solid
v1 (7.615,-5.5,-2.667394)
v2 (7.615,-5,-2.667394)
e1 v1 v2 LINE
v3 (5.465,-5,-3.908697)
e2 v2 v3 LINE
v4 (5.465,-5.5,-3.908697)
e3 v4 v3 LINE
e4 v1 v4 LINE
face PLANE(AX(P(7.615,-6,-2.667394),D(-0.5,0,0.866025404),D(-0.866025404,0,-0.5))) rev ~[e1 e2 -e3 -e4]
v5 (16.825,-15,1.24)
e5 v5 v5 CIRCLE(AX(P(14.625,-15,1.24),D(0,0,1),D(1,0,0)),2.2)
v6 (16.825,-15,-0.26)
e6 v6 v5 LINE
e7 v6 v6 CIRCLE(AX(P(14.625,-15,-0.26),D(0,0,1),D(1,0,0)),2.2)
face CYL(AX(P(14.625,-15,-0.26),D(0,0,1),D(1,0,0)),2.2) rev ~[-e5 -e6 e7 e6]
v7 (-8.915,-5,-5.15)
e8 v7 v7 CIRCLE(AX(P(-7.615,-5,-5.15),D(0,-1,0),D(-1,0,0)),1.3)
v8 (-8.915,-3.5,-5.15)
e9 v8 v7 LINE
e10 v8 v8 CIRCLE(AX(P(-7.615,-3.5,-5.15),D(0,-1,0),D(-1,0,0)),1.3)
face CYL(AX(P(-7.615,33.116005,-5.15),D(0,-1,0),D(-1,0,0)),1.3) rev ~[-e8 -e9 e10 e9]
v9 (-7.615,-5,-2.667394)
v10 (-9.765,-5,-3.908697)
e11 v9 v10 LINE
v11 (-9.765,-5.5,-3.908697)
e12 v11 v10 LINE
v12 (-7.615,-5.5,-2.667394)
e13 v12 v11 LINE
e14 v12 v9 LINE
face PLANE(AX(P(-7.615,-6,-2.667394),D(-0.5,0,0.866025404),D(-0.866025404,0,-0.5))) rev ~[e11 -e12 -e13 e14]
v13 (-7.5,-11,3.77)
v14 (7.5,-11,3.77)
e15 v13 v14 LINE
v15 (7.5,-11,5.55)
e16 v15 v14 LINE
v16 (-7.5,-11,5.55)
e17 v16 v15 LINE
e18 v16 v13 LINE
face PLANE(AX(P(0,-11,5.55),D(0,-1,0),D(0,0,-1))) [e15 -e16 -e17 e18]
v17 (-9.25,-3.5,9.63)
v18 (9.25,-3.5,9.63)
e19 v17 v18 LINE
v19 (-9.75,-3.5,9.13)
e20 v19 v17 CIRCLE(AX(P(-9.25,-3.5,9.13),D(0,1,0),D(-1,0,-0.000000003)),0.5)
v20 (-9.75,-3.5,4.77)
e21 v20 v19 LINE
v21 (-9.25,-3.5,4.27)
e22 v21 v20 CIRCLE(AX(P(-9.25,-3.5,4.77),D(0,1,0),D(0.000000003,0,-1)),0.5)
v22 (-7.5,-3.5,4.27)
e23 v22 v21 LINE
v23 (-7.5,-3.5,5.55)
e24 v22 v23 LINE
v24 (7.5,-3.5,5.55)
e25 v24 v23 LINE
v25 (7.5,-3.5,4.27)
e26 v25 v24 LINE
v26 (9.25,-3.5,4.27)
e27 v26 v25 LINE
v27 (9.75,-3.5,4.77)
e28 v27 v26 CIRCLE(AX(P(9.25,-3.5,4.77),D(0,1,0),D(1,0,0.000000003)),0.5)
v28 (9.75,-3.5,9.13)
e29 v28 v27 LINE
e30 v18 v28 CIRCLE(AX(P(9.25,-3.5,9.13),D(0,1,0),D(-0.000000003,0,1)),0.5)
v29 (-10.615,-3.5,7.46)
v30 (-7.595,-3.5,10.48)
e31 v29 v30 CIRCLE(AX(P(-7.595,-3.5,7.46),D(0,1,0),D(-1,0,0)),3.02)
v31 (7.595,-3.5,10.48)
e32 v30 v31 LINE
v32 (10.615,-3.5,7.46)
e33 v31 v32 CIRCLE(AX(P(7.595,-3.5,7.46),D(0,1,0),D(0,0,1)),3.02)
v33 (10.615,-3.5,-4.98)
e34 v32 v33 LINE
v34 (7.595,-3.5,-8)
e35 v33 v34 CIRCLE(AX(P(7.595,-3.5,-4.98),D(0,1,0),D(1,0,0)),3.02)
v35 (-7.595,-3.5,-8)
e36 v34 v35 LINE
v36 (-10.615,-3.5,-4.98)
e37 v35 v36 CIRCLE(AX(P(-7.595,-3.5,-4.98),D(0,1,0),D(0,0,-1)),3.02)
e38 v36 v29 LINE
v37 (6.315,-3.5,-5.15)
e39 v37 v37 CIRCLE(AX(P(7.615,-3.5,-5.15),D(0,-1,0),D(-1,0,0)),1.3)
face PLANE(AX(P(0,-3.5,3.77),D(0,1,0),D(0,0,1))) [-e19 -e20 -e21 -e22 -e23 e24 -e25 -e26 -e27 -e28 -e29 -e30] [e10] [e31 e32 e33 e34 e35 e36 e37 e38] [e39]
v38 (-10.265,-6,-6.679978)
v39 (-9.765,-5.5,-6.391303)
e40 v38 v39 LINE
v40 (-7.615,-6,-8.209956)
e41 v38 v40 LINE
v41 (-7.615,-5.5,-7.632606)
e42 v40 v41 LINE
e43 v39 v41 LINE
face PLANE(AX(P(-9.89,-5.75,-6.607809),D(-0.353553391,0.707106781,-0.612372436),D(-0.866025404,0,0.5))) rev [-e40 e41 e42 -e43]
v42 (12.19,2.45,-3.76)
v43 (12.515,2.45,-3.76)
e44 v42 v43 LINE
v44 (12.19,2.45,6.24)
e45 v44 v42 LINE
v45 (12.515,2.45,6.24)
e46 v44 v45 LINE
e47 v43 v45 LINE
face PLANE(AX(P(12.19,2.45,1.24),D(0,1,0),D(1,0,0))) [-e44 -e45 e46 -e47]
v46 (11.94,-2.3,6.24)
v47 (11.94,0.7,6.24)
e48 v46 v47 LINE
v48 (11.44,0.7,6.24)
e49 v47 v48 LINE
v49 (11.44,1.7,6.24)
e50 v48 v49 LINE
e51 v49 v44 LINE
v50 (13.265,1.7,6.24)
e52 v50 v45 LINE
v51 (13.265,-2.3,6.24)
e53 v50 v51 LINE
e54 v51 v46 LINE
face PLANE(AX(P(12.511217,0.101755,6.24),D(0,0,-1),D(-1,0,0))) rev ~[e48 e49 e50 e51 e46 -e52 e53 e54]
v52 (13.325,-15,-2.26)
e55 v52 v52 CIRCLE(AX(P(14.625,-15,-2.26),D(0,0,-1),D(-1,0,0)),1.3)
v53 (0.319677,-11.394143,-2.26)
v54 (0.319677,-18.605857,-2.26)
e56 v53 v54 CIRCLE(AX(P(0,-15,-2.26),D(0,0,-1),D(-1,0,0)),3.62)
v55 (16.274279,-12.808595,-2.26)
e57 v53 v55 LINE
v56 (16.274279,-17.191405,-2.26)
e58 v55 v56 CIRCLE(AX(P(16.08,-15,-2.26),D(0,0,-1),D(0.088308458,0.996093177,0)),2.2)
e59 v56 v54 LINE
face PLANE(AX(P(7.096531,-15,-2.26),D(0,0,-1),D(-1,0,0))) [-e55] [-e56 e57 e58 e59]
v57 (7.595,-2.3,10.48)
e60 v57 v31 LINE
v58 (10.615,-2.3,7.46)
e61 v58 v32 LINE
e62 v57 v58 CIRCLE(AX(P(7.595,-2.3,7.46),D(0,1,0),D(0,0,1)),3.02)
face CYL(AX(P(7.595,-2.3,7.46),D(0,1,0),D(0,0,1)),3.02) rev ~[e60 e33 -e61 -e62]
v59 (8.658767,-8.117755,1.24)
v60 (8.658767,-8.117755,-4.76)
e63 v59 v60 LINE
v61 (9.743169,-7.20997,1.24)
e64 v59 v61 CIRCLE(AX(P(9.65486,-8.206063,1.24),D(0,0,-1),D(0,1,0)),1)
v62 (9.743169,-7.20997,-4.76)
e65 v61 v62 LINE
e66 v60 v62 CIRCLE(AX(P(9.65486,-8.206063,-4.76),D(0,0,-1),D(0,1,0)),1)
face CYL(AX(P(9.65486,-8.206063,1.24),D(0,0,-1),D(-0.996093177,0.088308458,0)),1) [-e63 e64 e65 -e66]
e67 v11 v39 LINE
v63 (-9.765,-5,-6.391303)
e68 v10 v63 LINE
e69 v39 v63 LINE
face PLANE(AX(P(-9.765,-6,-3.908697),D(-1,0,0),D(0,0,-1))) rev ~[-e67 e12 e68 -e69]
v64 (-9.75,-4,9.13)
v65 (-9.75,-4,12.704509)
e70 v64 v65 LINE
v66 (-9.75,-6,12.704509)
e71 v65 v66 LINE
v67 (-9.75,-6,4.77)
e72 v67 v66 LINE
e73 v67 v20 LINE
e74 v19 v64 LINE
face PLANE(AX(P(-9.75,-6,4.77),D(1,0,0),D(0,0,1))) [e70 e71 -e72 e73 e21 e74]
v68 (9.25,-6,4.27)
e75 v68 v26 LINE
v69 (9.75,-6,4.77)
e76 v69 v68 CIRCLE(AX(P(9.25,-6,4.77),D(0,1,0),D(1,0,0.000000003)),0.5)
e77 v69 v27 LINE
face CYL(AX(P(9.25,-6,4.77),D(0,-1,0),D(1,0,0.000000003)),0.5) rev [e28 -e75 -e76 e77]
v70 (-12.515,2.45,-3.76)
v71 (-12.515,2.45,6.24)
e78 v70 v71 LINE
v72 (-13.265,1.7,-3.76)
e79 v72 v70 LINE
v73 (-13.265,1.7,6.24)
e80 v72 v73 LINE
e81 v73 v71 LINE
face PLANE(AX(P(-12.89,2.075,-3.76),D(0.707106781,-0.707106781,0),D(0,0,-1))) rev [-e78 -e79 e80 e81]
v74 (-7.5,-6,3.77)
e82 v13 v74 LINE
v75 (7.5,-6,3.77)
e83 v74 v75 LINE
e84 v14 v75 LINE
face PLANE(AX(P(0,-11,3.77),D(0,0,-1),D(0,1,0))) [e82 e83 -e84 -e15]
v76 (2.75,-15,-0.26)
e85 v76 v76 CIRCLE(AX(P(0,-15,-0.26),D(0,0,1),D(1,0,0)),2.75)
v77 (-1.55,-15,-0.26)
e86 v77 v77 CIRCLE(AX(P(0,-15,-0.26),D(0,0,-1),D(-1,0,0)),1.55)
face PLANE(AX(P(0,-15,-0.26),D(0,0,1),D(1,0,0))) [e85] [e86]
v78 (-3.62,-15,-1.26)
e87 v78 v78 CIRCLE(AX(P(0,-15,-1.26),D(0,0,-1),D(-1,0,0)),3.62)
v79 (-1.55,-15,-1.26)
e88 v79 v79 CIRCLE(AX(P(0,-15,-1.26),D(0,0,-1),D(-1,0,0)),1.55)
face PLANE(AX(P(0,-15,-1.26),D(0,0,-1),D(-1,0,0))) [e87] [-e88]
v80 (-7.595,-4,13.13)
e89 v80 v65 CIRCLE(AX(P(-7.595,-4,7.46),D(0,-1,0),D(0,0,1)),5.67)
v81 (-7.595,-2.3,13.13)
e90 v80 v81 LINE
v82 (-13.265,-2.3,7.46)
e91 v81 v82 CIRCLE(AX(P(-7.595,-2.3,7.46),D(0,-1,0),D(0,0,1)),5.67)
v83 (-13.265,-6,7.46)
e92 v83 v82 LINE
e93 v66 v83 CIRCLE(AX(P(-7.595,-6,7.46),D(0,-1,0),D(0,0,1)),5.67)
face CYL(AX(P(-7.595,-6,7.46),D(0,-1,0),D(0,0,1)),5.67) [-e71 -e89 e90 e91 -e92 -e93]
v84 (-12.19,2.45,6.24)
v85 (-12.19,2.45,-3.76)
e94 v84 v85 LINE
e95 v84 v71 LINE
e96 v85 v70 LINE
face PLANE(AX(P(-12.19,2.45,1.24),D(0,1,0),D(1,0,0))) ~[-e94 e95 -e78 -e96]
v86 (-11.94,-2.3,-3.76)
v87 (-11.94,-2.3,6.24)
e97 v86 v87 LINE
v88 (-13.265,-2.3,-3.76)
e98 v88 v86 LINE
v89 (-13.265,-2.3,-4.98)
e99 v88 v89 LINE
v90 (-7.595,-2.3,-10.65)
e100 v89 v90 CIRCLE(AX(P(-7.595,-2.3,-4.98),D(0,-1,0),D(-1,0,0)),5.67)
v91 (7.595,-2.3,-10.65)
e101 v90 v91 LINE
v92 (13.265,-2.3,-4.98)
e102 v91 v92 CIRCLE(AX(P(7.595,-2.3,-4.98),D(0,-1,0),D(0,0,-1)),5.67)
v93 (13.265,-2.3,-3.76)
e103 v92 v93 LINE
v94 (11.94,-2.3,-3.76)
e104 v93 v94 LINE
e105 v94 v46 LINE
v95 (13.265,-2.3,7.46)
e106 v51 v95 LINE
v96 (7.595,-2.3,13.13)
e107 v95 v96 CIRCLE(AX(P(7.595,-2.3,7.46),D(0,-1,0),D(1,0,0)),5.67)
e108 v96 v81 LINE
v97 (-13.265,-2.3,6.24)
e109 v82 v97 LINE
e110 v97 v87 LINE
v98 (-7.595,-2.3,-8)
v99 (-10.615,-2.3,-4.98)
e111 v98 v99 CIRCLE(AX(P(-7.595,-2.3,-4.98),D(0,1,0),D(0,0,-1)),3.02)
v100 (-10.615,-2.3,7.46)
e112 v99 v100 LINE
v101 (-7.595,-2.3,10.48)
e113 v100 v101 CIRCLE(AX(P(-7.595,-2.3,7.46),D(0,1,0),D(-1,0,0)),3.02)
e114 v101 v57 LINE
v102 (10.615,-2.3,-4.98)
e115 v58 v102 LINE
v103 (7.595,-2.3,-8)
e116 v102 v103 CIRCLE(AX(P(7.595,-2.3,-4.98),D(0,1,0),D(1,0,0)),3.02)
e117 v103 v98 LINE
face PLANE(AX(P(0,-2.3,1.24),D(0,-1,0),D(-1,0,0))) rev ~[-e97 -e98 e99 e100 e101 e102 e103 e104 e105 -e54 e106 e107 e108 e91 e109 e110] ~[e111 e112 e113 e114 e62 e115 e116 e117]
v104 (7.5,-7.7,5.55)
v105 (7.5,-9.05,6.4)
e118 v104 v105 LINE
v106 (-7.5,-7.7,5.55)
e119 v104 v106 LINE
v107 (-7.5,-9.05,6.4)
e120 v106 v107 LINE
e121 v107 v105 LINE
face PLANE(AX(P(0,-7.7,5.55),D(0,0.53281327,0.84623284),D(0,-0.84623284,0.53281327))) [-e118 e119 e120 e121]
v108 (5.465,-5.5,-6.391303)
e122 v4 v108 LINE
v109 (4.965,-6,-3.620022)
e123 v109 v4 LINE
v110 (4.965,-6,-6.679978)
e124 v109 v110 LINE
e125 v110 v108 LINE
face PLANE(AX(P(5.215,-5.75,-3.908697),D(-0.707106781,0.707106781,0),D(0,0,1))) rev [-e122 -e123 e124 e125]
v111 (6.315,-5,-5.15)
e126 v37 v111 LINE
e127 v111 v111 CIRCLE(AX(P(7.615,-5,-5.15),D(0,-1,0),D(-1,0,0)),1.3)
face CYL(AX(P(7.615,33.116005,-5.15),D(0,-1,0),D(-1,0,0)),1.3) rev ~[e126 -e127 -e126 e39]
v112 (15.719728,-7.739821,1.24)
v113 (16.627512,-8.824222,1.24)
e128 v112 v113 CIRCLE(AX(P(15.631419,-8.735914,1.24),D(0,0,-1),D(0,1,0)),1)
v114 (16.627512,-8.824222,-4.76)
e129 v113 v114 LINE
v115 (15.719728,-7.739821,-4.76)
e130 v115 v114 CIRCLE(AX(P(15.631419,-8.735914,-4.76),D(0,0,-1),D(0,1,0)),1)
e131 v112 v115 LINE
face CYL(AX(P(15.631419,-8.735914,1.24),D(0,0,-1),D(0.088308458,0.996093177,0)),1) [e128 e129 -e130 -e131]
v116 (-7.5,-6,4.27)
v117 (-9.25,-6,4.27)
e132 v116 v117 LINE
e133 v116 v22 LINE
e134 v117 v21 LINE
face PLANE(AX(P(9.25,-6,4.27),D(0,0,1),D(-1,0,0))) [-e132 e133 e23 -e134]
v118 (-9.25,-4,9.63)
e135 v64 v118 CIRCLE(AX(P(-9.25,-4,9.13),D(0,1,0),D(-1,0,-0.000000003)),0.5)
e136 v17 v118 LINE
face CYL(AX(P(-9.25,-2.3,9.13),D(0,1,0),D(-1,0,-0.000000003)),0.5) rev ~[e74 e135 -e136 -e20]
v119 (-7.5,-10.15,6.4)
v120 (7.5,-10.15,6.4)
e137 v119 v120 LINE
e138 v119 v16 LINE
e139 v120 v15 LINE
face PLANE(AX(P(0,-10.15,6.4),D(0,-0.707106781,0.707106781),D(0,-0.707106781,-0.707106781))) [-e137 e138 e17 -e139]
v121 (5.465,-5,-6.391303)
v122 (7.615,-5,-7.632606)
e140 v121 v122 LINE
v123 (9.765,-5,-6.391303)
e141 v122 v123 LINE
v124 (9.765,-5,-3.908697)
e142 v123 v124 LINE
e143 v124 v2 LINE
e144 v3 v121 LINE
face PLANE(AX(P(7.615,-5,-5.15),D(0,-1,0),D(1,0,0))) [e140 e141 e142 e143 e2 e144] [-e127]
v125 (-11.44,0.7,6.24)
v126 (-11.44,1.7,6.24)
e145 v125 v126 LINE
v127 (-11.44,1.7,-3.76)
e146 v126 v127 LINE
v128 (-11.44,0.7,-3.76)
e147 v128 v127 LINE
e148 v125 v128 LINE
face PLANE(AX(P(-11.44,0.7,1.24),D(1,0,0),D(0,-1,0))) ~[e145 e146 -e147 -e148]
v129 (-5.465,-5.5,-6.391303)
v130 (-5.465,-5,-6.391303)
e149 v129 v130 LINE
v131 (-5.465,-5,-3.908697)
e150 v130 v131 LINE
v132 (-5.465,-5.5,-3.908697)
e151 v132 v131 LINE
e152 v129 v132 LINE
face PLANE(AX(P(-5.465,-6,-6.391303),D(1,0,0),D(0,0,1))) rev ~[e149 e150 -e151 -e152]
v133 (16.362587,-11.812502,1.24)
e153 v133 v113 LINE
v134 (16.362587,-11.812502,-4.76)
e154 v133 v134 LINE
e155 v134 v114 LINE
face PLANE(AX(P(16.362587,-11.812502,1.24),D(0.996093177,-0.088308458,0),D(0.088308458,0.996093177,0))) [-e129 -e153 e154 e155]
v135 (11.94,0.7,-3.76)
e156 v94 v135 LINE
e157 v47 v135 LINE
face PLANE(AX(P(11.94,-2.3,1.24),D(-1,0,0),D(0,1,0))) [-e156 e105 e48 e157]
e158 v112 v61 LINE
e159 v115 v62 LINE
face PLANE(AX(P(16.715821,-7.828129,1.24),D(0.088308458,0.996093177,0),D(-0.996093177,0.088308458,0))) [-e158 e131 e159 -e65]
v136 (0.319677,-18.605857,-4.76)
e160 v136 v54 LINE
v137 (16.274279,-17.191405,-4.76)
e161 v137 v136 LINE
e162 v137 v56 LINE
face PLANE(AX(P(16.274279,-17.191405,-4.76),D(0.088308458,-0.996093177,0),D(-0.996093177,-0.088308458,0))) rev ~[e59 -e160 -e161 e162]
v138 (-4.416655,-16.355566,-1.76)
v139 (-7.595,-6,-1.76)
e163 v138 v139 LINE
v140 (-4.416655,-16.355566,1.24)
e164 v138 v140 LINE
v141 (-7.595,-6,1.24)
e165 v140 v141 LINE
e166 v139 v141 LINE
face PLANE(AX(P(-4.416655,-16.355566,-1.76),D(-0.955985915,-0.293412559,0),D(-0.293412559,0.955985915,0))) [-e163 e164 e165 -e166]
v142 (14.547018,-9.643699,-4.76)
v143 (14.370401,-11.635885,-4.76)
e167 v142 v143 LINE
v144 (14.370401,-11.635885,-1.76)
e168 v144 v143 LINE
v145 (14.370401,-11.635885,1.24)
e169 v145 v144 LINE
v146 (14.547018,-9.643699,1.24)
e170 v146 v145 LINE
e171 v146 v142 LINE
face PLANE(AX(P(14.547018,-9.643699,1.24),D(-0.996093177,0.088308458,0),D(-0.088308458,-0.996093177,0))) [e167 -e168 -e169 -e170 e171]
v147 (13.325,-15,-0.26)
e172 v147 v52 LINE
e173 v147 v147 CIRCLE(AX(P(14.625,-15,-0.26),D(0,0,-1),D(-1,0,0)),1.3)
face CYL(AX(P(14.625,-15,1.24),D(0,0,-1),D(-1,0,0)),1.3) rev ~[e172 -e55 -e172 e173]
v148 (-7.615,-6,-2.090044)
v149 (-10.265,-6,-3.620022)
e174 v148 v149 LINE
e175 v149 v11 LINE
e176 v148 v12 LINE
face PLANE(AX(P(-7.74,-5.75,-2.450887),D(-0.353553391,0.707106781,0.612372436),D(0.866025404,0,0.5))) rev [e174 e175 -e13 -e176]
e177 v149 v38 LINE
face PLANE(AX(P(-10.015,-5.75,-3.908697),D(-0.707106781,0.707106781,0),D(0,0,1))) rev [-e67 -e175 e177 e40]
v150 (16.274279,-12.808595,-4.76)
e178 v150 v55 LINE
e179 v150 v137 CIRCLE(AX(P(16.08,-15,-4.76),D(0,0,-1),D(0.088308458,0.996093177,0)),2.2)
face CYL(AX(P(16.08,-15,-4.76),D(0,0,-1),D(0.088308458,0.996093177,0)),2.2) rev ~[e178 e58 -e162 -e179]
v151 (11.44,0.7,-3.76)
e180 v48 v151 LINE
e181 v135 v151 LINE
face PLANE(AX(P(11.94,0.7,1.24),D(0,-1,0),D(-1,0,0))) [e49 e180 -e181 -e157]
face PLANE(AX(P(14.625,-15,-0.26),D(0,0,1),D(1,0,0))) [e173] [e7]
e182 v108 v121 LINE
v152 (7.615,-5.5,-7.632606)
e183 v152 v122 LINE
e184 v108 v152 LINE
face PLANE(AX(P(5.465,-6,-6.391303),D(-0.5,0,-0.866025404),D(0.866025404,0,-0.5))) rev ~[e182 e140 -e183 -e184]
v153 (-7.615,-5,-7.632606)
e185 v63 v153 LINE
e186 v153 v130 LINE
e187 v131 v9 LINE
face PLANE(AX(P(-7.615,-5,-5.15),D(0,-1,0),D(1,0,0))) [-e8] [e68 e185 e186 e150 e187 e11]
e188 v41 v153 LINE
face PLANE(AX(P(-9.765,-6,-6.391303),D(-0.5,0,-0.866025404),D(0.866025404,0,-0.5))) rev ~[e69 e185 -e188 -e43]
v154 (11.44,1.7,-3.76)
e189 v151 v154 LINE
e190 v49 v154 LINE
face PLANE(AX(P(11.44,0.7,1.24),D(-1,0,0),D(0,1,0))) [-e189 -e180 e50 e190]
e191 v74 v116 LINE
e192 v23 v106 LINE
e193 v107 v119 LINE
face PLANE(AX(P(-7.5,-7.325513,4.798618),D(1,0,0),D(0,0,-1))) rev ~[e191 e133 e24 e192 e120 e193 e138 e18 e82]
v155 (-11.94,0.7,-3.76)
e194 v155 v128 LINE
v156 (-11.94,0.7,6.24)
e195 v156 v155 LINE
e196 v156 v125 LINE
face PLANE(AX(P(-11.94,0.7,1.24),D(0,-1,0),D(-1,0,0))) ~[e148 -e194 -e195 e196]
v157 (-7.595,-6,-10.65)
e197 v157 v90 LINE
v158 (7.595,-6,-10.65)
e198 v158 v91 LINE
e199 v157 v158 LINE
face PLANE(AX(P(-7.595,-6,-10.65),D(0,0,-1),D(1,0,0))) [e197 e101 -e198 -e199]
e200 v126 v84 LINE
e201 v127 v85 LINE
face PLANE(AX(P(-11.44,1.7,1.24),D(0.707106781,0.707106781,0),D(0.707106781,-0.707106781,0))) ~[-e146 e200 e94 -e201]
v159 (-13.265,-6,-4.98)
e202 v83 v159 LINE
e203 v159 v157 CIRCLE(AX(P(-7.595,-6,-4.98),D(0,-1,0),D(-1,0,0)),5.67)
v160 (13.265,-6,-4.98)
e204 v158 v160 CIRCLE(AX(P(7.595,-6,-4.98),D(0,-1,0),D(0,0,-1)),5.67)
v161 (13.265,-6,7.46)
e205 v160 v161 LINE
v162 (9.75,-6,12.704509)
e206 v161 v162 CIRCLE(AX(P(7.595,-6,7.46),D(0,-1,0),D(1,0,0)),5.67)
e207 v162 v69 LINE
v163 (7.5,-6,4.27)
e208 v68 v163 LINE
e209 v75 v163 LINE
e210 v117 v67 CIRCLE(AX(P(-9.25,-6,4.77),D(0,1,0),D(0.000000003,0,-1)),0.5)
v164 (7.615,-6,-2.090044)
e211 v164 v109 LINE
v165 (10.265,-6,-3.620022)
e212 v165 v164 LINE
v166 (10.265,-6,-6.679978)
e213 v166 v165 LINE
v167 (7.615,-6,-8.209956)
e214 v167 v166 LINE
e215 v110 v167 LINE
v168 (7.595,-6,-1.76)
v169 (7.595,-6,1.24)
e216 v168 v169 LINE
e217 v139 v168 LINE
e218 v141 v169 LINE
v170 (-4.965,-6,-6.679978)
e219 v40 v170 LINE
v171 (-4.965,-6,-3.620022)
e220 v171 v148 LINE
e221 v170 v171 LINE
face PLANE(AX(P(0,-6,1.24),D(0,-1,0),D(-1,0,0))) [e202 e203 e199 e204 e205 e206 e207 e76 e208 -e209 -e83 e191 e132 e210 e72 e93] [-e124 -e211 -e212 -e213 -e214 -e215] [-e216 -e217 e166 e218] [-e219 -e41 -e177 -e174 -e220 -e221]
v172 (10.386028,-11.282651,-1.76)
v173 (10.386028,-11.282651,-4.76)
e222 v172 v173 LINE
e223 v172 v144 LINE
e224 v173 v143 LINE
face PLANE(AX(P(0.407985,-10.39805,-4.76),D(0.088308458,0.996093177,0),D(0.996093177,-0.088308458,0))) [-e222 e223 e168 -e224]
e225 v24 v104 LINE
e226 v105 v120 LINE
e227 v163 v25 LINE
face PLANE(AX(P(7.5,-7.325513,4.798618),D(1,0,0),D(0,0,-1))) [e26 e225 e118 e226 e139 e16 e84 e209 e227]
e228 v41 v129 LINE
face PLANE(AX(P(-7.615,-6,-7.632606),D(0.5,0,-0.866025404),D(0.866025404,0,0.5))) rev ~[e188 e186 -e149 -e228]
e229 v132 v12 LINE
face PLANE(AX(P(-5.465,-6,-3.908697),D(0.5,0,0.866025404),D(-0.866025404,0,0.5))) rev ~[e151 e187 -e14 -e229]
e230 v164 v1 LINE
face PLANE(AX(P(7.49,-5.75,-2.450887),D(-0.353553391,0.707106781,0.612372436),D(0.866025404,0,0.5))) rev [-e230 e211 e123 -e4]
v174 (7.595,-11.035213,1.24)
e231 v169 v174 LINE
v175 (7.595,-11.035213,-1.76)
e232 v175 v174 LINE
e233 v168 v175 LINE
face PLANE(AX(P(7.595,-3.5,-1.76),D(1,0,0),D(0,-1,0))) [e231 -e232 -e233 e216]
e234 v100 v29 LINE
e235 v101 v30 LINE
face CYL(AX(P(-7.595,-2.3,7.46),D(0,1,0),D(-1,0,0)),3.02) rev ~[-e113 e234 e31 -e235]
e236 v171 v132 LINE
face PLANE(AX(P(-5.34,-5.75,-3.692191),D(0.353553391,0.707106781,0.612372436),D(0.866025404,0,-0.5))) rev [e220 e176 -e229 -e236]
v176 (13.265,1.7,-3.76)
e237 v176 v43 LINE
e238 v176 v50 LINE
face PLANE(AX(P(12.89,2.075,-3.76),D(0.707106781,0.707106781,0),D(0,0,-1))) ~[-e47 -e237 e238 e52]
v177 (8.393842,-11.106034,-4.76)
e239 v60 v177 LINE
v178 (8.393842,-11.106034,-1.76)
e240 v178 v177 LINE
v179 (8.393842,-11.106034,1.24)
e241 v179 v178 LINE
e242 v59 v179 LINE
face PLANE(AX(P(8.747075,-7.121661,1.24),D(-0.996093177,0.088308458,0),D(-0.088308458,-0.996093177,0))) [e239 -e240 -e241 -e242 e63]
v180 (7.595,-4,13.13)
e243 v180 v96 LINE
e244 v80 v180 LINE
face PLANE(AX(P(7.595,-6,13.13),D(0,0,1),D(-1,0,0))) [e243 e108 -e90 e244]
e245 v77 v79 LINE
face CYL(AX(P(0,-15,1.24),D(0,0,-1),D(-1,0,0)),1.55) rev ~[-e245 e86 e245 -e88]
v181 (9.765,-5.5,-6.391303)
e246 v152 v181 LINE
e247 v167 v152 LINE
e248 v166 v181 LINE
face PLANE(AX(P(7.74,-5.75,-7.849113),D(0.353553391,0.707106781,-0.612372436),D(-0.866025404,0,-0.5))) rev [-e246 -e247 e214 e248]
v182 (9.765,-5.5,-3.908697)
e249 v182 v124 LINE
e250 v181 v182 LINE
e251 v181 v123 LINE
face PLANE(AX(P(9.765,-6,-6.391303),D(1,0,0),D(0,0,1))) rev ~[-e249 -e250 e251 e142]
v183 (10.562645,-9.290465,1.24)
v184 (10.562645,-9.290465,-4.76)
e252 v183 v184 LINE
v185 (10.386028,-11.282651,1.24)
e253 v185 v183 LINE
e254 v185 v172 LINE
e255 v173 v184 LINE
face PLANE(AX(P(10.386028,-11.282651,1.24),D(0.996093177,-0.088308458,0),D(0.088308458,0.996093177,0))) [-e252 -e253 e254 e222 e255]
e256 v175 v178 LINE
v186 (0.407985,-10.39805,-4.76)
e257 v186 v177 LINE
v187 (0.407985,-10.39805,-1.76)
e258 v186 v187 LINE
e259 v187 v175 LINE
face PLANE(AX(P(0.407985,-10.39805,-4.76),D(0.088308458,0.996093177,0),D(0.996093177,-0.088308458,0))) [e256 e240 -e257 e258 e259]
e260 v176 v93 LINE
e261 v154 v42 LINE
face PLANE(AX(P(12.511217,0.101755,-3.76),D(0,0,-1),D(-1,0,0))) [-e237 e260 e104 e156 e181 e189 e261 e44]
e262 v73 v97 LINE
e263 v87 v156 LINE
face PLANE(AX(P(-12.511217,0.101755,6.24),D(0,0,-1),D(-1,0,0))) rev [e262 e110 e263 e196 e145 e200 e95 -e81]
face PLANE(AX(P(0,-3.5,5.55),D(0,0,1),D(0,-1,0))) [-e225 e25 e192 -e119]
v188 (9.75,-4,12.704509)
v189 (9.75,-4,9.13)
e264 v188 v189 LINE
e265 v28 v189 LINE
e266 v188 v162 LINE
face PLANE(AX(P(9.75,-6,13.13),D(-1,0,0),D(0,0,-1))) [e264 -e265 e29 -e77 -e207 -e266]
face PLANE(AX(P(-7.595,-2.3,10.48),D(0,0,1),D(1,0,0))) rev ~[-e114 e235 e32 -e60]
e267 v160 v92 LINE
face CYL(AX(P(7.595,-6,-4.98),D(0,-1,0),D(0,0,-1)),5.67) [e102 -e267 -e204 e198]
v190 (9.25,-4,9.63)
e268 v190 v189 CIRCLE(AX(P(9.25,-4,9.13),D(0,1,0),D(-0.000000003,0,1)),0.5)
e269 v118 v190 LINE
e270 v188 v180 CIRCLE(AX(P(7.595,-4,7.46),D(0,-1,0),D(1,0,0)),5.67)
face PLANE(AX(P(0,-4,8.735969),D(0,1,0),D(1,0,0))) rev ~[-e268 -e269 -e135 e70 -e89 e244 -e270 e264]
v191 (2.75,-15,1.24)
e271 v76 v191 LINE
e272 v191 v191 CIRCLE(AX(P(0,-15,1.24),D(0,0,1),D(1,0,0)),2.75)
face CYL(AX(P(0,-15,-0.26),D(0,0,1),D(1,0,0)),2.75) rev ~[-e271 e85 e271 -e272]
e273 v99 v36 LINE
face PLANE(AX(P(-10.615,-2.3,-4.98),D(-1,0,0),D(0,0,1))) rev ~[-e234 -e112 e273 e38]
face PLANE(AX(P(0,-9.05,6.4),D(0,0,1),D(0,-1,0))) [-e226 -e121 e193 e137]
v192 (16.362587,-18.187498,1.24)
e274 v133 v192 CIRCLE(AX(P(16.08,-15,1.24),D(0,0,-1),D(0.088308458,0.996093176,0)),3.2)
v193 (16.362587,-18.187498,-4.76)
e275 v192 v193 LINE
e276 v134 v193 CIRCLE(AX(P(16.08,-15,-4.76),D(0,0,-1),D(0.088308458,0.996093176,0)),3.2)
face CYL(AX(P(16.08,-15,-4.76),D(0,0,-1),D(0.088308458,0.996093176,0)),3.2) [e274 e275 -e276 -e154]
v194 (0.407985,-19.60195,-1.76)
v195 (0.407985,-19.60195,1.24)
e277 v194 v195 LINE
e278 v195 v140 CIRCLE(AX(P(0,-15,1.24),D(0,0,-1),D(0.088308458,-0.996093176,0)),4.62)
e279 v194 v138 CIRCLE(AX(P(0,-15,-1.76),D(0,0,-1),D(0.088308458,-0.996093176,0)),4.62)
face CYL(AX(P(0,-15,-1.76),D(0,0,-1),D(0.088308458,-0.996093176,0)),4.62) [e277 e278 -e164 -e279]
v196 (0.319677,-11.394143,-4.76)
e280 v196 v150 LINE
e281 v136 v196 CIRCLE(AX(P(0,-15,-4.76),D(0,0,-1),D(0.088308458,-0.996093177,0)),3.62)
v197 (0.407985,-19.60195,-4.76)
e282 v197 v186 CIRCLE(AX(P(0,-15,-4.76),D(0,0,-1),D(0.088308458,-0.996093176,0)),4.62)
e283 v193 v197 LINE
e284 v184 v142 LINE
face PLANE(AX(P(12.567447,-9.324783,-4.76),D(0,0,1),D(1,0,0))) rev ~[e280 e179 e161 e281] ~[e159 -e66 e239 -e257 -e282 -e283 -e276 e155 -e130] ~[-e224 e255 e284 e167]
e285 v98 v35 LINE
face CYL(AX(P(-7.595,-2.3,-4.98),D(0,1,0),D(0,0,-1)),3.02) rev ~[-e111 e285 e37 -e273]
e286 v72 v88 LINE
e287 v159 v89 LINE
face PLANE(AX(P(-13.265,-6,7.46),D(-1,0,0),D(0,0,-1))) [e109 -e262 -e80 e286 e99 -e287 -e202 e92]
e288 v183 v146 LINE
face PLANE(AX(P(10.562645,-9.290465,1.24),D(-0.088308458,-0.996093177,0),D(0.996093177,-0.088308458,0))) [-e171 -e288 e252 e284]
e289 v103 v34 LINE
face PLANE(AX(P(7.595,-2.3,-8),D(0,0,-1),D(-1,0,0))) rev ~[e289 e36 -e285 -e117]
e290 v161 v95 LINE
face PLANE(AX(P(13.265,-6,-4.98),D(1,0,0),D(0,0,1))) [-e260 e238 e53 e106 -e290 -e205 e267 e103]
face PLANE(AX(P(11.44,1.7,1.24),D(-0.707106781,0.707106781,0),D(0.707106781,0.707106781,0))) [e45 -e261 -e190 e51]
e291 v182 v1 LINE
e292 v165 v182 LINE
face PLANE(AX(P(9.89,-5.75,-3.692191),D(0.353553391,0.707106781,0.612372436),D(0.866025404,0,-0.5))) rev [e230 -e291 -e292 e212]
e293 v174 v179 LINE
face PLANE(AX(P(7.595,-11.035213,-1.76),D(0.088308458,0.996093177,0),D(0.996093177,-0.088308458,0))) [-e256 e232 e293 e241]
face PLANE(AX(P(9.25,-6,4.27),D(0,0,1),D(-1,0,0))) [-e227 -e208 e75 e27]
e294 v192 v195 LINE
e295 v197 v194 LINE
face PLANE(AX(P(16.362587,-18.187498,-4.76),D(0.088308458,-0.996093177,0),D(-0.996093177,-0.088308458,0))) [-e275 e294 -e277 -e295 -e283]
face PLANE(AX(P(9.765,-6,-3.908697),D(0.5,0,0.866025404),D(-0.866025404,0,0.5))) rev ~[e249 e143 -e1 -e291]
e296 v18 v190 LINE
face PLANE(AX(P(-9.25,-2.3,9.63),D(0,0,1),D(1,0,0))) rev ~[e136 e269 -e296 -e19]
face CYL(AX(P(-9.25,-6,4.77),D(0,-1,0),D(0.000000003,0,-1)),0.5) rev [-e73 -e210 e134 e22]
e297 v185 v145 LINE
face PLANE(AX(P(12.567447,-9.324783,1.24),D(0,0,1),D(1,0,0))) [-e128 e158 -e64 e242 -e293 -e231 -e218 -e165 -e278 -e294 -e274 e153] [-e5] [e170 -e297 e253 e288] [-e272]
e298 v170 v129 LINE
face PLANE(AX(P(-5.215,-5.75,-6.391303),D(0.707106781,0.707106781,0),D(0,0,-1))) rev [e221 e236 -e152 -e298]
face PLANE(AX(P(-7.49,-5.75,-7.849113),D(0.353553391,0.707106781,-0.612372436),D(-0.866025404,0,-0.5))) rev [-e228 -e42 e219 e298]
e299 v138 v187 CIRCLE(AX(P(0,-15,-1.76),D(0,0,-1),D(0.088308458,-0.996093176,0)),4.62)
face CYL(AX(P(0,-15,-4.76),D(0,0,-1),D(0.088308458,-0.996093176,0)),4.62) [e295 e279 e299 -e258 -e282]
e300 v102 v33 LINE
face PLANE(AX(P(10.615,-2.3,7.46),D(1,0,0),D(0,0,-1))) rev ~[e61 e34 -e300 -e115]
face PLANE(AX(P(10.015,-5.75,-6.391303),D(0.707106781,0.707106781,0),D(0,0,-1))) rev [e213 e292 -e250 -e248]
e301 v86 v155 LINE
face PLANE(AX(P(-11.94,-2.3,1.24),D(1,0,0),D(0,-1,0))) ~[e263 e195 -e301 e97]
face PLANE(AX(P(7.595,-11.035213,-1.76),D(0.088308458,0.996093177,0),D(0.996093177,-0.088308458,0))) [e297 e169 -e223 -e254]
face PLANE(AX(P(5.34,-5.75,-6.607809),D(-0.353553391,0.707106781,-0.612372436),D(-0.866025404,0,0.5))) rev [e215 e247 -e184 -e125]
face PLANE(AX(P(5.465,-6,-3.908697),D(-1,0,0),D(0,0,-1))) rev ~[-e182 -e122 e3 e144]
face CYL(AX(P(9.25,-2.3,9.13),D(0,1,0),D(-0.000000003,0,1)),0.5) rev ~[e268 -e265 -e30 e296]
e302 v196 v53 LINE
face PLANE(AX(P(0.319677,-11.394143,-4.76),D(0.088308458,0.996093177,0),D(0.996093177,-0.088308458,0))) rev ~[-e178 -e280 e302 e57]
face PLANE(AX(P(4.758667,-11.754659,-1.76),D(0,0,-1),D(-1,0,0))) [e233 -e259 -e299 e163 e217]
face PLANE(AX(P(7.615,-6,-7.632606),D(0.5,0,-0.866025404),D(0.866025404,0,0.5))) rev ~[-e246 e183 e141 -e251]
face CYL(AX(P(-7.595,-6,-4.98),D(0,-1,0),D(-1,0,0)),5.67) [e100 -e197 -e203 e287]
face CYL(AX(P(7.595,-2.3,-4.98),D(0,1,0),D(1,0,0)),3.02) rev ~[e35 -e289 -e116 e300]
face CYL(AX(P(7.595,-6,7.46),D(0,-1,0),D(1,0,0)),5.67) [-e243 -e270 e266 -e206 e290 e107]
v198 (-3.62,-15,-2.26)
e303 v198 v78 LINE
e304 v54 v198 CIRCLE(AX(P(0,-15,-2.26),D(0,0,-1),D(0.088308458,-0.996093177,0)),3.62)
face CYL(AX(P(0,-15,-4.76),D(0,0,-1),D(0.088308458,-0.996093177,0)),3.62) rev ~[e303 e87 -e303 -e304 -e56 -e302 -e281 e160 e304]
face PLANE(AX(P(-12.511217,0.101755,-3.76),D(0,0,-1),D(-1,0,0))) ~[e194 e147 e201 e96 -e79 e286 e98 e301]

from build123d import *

# Parameters (mm, degrees)
BOSS_EXTRUDE1_DEPTH              = 3.7
CUT_EXTRUDE1_DEPTH               = 1.2
CUT_EXTRUDE2_DEPTH               = 2
CUT_EXTRUDE3_DEPTH               = 20.027535968
BOSS_EXTRUDE3_DEPTH              = 5
M2_CLEARANCE_HOLE1_D             = 2.6
CUT_EXTRUDE4_DEPTH               = 1
CHAMFER2_SIZE                    = 0.75
BOSS_EXTRUDE4_DEPTH              = 3
BOSS_EXTRUDE5_START              = 3
BOSS_EXTRUDE5_DEPTH              = 3
CBORE_FOR_M2_5_SHCS1_D           = 3.1
CBORE_FOR_M2_5_SHCS1_CBORE_D     = 5.5
CBORE_FOR_M2_5_SHCS1_CBORE_DEPTH = 1.5
CUT_EXTRUDE6_DEPTH               = 2.5
SKETCH18_R                       = 3.62
CUT_EXTRUDE7_DEPTH               = 1
CBORE_FOR_M2_SHCS1_D             = 2.6
CBORE_FOR_M2_SHCS1_CBORE_D       = 4.4
CBORE_FOR_M2_SHCS1_CBORE_DEPTH   = 1.5
CHAMFER3_SIZE                    = 0.5
BOSS_EXTRUDE8_DEPTH              = 7.5
BOSS_EXTRUDE9_DEPTH              = 6
FILLET1_R                        = 1


with BuildPart() as part:
    # Sketch1 → Boss-Extrude1 (new body)
    with BuildSketch(Plane(origin=(0, -6, 0), x_dir=(-1, 0, 0), z_dir=(0, -1, 0))):
        with BuildLine():
            Line((7.595, 10.65), (-7.595, 10.65))
            ThreePointArc((-7.595, 10.65), (-11.604295449, 8.989295449), (-13.265, 4.98))
            Line((-13.265, 4.98), (-13.265, -7.46))
            ThreePointArc((-13.265, -7.46), (-11.604295449, -11.469295449), (-7.595, -13.13))
            Line((-7.595, -13.13), (7.595, -13.13))
            ThreePointArc((7.595, -13.13), (11.604295449, -11.469295449), (13.265, -7.46))
            Line((13.265, -7.46), (13.265, 4.98))
            ThreePointArc((13.265, 4.98), (11.604295449, 8.989295449), (7.595, 10.65))
        make_face()
    extrude(amount=-BOSS_EXTRUDE1_DEPTH)

    # Sketch3 → Cut-Extrude1 (cut)
    with BuildSketch(Plane(origin=(0, -2.3, 0), x_dir=(1, 0, 0), z_dir=(0, 1, 0))):
        with BuildLine():
            Line((-7.595, -10.48), (7.595, -10.48))
            ThreePointArc((7.595, -10.48), (9.730462479, -9.595462479), (10.615, -7.46))
            Line((10.615, -7.46), (10.615, 4.98))
            ThreePointArc((10.615, 4.98), (9.730462479, 7.115462479), (7.595, 8))
            Line((7.595, 8), (-7.595, 8))
            ThreePointArc((-7.595, 8), (-9.730462479, 7.115462479), (-10.615, 4.98))
            Line((-10.615, 4.98), (-10.615, -7.46))
            ThreePointArc((-10.615, -7.46), (-9.730462479, -9.595462479), (-7.595, -10.48))
        make_face()
    extrude(amount=-CUT_EXTRUDE1_DEPTH, mode=Mode.SUBTRACT)

    # Sketch4 → Cut-Extrude2 (cut)
    with BuildSketch(Plane(origin=(0, -6, 0), x_dir=(1, 0, 0), z_dir=(0, 1, 0))):
        with BuildLine():
            Line((9.25, -4.27), (-9.25, -4.27))
            ThreePointArc((-9.25, -4.27), (-9.603553391, -4.416446609), (-9.75, -4.77))
            Line((-9.75, -4.77), (-9.75, -11.98))
            Line((-9.75, -11.98), (-9.75, -13.13))
            Line((-9.75, -13.13), (9.75, -13.13))
            Line((9.75, -13.13), (9.75, -11.98))
            Line((9.75, -11.98), (9.75, -4.77))
            ThreePointArc((9.75, -4.77), (9.603553391, -4.416446609), (9.25, -4.27))
        make_face()
    extrude(amount=CUT_EXTRUDE2_DEPTH, mode=Mode.SUBTRACT)

    # Sketch5 → Cut-Extrude3 (cut, through all)
    with BuildSketch(Plane(origin=(0, -2.3, 0), x_dir=(1, 0, 0), z_dir=(0, 1, 0))):
        with BuildLine():
            Line((-9.25, -9.63), (9.25, -9.63))
            ThreePointArc((9.25, -9.63), (9.603553391, -9.483553391), (9.75, -9.13))
            Line((9.75, -9.13), (9.75, -4.77))
            ThreePointArc((9.75, -4.77), (9.603553391, -4.416446609), (9.25, -4.27))
            Line((9.25, -4.27), (-9.25, -4.27))
            ThreePointArc((-9.25, -4.27), (-9.603553391, -4.416446609), (-9.75, -4.77))
            Line((-9.75, -4.77), (-9.75, -9.13))
            ThreePointArc((-9.75, -9.13), (-9.603553391, -9.483553391), (-9.25, -9.63))
        make_face()
    extrude(amount=-CUT_EXTRUDE3_DEPTH, mode=Mode.SUBTRACT)

    # Sketch6 → Boss-Extrude3 (add, symmetric)
    with BuildSketch(Plane(origin=(0, 0, 1.24), x_dir=(-1, 0, 0), z_dir=(0, 0, -1))):
        Polygon((-11.94, -2.3), (-11.94, 0.7), (-11.44, 0.7), (-11.44, 1.7), (-12.19, 2.45), (-13.265, 2.45), (-13.265, -2.3), align=None)
    boss_extrude3 = extrude(amount=BOSS_EXTRUDE3_DEPTH, both=True)

    # Mirror1: Boss-Extrude3 across plane
    add(boss_extrude3.mirror(Plane(origin=(0, 0, 0), x_dir=(0, 0, 1), z_dir=(1, 0, 0))))

    # M2 Clearance Hole1 (through all)
    with Locations(Plane(origin=(0, -3.5, 0), x_dir=(1, 0, 0), z_dir=(0, 1, 0))):
        with Locations((-7.615, 5.15), (7.615, 5.15)):
            Hole(M2_CLEARANCE_HOLE1_D / 2)

    # Sketch9 → Cut-Extrude4 (cut)
    with BuildSketch(Plane.XZ.offset(6)):
        Polygon((-7.615, -2.667393842), (-9.765, -3.908696921), (-9.765, -6.391303079), (-7.615, -7.632606158), (-5.465, -6.391303079), (-5.465, -3.908696921), align=None)
        Polygon((7.615, -2.667393842), (5.465, -3.908696921), (5.465, -6.391303079), (7.615, -7.632606158), (9.765, -6.391303079), (9.765, -3.908696921), align=None)
    extrude(amount=-CUT_EXTRUDE4_DEPTH, mode=Mode.SUBTRACT)

    # Chamfer2
    chamfer2_edges = [part.edges().sort_by_distance(p)[0] for p in [
        (-13.265, 2.45, 1.24),
        (13.265, 2.45, 1.24),
    ]]
    chamfer(chamfer2_edges, length=CHAMFER2_SIZE)

    # Sketch11 → Boss-Extrude4 (add)
    with BuildSketch(Plane(origin=(0, 0, -1.76), x_dir=(-1, 0, 0), z_dir=(0, 0, -1))):
        with BuildLine():
            Line((-16.362587065, -18.187498165), (-0.407985075, -19.601950475))
            ThreePointArc((-0.407985075, -19.601950475), (2.579168763, -18.833052112), (4.416654929, -16.355566021))
            Line((4.416654929, -16.355566021), (7.595, -6))
            Line((7.595, -6), (7.595, -3.5))
            Line((7.595, -3.5), (-7.595, -3.5))
            Line((-7.595, -3.5), (-7.595, -11.035213013))
            Line((-7.595, -11.035213013), (-16.362587065, -11.812501835))
            ThreePointArc((-16.362587065, -11.812501835), (-19.28, -15), (-16.362587065, -18.187498165))
        make_face()
    extrude(amount=-BOSS_EXTRUDE4_DEPTH)

    # Sketch12 → Boss-Extrude5 (add)
    with BuildSketch(Plane(origin=(0, 0, -1.76), x_dir=(-1, 0, 0), z_dir=(0, 0, -1)).offset(BOSS_EXTRUDE5_START)):
        with BuildLine():
            Line((-0.407985075, -10.398049525), (-16.362587065, -11.812501835))
            ThreePointArc((-16.362587065, -11.812501835), (-19.28, -15), (-16.362587065, -18.187498165))
            Line((-16.362587065, -18.187498165), (-0.407985075, -19.601950475))
            ThreePointArc((-0.407985075, -19.601950475), (4.62, -15), (-0.407985075, -10.398049525))
        make_face()
    extrude(amount=-BOSS_EXTRUDE5_DEPTH)

    # CBORE for M2.5 SHCS1 (through all)
    with Locations(Plane.XY.offset(1.24)):
        with Locations((0, -15)):
            CounterBoreHole(CBORE_FOR_M2_5_SHCS1_D / 2, CBORE_FOR_M2_5_SHCS1_CBORE_D / 2, CBORE_FOR_M2_5_SHCS1_CBORE_DEPTH)

    # Sketch17 → Cut-Extrude6 (cut)
    with BuildSketch(Plane(origin=(0, 0, -4.76), x_dir=(-1, 0, 0), z_dir=(0, 0, -1))):
        with BuildLine():
            Line((-0.319676617, -11.394142701), (-16.274278607, -12.808595012))
            ThreePointArc((-16.274278607, -12.808595012), (-18.28, -15), (-16.274278607, -17.191404988))
            Line((-16.274278607, -17.191404988), (-0.319676617, -18.605857299))
            ThreePointArc((-0.319676617, -18.605857299), (3.62, -15), (-0.319676617, -11.394142701))
        make_face()
    extrude(amount=-CUT_EXTRUDE6_DEPTH, mode=Mode.SUBTRACT)

    # Sketch18 → Cut-Extrude7 (cut)
    with BuildSketch(Plane(origin=(0, 0, -2.26), x_dir=(-1, 0, 0), z_dir=(0, 0, -1))):
        with Locations((0, -15)):
            Circle(SKETCH18_R)
    extrude(amount=-CUT_EXTRUDE7_DEPTH, mode=Mode.SUBTRACT)

    # CBORE for M2 SHCS1 (through all)
    with Locations(Plane.XY.offset(1.24)):
        with Locations((14.625, -15)):
            CounterBoreHole(CBORE_FOR_M2_SHCS1_D / 2, CBORE_FOR_M2_SHCS1_CBORE_D / 2, CBORE_FOR_M2_SHCS1_CBORE_DEPTH)

    # Chamfer3
    chamfer3_edges = [part.edges().sort_by_distance(p)[0] for p in [
        (6.54, -6, -3.288045382),
        (8.69, -6, -3.288045382),
        (5.465, -6, -5.15),
        (9.765, -6, -5.15),
        (6.54, -6, -7.011954618),
        (8.69, -6, -7.011954618),
        (-8.69, -6, -3.288045382),
        (-6.54, -6, -3.288045382),
        (-9.765, -6, -5.15),
        (-5.465, -6, -5.15),
        (-8.69, -6, -7.011954618),
        (-6.54, -6, -7.011954618),
    ]]
    chamfer(chamfer3_edges, length=CHAMFER3_SIZE)

    # Sketch30 → Boss-Extrude8 (add, symmetric)
    with BuildSketch(Plane(origin=(0, 0, 0), x_dir=(0, 0, -1), z_dir=(1, 0, 0))):
        Polygon((-5.55, -7.7), (-6.4, -9.05), (-6.4, -10.15), (-5.55, -11), (-3.77, -11), (-3.77, -3.5), (-5.55, -3.5), align=None)
    extrude(amount=BOSS_EXTRUDE8_DEPTH, both=True)

    # Sketch31 → Boss-Extrude9 (add)
    with BuildSketch(Plane.XY.offset(1.24)):
        Polygon((8.393841653, -11.106034173), (10.386028006, -11.282651089), (10.562644921, -9.290464736), (14.547017627, -9.643698567), (14.370400712, -11.63588492), (16.362587065, -11.812501835), (16.715820896, -7.828129129), (8.747075483, -7.121661467), align=None)
    extrude(amount=-BOSS_EXTRUDE9_DEPTH)

    # Fillet1
    fillet1_edges = [part.edges().sort_by_distance(p)[0] for p in [
        (8.747075483, -7.121661467, -1.76),
        (16.715820896, -7.828129129, -1.76),
    ]]
    fillet(fillet1_edges, radius=FILLET1_R)


solid = part.part
